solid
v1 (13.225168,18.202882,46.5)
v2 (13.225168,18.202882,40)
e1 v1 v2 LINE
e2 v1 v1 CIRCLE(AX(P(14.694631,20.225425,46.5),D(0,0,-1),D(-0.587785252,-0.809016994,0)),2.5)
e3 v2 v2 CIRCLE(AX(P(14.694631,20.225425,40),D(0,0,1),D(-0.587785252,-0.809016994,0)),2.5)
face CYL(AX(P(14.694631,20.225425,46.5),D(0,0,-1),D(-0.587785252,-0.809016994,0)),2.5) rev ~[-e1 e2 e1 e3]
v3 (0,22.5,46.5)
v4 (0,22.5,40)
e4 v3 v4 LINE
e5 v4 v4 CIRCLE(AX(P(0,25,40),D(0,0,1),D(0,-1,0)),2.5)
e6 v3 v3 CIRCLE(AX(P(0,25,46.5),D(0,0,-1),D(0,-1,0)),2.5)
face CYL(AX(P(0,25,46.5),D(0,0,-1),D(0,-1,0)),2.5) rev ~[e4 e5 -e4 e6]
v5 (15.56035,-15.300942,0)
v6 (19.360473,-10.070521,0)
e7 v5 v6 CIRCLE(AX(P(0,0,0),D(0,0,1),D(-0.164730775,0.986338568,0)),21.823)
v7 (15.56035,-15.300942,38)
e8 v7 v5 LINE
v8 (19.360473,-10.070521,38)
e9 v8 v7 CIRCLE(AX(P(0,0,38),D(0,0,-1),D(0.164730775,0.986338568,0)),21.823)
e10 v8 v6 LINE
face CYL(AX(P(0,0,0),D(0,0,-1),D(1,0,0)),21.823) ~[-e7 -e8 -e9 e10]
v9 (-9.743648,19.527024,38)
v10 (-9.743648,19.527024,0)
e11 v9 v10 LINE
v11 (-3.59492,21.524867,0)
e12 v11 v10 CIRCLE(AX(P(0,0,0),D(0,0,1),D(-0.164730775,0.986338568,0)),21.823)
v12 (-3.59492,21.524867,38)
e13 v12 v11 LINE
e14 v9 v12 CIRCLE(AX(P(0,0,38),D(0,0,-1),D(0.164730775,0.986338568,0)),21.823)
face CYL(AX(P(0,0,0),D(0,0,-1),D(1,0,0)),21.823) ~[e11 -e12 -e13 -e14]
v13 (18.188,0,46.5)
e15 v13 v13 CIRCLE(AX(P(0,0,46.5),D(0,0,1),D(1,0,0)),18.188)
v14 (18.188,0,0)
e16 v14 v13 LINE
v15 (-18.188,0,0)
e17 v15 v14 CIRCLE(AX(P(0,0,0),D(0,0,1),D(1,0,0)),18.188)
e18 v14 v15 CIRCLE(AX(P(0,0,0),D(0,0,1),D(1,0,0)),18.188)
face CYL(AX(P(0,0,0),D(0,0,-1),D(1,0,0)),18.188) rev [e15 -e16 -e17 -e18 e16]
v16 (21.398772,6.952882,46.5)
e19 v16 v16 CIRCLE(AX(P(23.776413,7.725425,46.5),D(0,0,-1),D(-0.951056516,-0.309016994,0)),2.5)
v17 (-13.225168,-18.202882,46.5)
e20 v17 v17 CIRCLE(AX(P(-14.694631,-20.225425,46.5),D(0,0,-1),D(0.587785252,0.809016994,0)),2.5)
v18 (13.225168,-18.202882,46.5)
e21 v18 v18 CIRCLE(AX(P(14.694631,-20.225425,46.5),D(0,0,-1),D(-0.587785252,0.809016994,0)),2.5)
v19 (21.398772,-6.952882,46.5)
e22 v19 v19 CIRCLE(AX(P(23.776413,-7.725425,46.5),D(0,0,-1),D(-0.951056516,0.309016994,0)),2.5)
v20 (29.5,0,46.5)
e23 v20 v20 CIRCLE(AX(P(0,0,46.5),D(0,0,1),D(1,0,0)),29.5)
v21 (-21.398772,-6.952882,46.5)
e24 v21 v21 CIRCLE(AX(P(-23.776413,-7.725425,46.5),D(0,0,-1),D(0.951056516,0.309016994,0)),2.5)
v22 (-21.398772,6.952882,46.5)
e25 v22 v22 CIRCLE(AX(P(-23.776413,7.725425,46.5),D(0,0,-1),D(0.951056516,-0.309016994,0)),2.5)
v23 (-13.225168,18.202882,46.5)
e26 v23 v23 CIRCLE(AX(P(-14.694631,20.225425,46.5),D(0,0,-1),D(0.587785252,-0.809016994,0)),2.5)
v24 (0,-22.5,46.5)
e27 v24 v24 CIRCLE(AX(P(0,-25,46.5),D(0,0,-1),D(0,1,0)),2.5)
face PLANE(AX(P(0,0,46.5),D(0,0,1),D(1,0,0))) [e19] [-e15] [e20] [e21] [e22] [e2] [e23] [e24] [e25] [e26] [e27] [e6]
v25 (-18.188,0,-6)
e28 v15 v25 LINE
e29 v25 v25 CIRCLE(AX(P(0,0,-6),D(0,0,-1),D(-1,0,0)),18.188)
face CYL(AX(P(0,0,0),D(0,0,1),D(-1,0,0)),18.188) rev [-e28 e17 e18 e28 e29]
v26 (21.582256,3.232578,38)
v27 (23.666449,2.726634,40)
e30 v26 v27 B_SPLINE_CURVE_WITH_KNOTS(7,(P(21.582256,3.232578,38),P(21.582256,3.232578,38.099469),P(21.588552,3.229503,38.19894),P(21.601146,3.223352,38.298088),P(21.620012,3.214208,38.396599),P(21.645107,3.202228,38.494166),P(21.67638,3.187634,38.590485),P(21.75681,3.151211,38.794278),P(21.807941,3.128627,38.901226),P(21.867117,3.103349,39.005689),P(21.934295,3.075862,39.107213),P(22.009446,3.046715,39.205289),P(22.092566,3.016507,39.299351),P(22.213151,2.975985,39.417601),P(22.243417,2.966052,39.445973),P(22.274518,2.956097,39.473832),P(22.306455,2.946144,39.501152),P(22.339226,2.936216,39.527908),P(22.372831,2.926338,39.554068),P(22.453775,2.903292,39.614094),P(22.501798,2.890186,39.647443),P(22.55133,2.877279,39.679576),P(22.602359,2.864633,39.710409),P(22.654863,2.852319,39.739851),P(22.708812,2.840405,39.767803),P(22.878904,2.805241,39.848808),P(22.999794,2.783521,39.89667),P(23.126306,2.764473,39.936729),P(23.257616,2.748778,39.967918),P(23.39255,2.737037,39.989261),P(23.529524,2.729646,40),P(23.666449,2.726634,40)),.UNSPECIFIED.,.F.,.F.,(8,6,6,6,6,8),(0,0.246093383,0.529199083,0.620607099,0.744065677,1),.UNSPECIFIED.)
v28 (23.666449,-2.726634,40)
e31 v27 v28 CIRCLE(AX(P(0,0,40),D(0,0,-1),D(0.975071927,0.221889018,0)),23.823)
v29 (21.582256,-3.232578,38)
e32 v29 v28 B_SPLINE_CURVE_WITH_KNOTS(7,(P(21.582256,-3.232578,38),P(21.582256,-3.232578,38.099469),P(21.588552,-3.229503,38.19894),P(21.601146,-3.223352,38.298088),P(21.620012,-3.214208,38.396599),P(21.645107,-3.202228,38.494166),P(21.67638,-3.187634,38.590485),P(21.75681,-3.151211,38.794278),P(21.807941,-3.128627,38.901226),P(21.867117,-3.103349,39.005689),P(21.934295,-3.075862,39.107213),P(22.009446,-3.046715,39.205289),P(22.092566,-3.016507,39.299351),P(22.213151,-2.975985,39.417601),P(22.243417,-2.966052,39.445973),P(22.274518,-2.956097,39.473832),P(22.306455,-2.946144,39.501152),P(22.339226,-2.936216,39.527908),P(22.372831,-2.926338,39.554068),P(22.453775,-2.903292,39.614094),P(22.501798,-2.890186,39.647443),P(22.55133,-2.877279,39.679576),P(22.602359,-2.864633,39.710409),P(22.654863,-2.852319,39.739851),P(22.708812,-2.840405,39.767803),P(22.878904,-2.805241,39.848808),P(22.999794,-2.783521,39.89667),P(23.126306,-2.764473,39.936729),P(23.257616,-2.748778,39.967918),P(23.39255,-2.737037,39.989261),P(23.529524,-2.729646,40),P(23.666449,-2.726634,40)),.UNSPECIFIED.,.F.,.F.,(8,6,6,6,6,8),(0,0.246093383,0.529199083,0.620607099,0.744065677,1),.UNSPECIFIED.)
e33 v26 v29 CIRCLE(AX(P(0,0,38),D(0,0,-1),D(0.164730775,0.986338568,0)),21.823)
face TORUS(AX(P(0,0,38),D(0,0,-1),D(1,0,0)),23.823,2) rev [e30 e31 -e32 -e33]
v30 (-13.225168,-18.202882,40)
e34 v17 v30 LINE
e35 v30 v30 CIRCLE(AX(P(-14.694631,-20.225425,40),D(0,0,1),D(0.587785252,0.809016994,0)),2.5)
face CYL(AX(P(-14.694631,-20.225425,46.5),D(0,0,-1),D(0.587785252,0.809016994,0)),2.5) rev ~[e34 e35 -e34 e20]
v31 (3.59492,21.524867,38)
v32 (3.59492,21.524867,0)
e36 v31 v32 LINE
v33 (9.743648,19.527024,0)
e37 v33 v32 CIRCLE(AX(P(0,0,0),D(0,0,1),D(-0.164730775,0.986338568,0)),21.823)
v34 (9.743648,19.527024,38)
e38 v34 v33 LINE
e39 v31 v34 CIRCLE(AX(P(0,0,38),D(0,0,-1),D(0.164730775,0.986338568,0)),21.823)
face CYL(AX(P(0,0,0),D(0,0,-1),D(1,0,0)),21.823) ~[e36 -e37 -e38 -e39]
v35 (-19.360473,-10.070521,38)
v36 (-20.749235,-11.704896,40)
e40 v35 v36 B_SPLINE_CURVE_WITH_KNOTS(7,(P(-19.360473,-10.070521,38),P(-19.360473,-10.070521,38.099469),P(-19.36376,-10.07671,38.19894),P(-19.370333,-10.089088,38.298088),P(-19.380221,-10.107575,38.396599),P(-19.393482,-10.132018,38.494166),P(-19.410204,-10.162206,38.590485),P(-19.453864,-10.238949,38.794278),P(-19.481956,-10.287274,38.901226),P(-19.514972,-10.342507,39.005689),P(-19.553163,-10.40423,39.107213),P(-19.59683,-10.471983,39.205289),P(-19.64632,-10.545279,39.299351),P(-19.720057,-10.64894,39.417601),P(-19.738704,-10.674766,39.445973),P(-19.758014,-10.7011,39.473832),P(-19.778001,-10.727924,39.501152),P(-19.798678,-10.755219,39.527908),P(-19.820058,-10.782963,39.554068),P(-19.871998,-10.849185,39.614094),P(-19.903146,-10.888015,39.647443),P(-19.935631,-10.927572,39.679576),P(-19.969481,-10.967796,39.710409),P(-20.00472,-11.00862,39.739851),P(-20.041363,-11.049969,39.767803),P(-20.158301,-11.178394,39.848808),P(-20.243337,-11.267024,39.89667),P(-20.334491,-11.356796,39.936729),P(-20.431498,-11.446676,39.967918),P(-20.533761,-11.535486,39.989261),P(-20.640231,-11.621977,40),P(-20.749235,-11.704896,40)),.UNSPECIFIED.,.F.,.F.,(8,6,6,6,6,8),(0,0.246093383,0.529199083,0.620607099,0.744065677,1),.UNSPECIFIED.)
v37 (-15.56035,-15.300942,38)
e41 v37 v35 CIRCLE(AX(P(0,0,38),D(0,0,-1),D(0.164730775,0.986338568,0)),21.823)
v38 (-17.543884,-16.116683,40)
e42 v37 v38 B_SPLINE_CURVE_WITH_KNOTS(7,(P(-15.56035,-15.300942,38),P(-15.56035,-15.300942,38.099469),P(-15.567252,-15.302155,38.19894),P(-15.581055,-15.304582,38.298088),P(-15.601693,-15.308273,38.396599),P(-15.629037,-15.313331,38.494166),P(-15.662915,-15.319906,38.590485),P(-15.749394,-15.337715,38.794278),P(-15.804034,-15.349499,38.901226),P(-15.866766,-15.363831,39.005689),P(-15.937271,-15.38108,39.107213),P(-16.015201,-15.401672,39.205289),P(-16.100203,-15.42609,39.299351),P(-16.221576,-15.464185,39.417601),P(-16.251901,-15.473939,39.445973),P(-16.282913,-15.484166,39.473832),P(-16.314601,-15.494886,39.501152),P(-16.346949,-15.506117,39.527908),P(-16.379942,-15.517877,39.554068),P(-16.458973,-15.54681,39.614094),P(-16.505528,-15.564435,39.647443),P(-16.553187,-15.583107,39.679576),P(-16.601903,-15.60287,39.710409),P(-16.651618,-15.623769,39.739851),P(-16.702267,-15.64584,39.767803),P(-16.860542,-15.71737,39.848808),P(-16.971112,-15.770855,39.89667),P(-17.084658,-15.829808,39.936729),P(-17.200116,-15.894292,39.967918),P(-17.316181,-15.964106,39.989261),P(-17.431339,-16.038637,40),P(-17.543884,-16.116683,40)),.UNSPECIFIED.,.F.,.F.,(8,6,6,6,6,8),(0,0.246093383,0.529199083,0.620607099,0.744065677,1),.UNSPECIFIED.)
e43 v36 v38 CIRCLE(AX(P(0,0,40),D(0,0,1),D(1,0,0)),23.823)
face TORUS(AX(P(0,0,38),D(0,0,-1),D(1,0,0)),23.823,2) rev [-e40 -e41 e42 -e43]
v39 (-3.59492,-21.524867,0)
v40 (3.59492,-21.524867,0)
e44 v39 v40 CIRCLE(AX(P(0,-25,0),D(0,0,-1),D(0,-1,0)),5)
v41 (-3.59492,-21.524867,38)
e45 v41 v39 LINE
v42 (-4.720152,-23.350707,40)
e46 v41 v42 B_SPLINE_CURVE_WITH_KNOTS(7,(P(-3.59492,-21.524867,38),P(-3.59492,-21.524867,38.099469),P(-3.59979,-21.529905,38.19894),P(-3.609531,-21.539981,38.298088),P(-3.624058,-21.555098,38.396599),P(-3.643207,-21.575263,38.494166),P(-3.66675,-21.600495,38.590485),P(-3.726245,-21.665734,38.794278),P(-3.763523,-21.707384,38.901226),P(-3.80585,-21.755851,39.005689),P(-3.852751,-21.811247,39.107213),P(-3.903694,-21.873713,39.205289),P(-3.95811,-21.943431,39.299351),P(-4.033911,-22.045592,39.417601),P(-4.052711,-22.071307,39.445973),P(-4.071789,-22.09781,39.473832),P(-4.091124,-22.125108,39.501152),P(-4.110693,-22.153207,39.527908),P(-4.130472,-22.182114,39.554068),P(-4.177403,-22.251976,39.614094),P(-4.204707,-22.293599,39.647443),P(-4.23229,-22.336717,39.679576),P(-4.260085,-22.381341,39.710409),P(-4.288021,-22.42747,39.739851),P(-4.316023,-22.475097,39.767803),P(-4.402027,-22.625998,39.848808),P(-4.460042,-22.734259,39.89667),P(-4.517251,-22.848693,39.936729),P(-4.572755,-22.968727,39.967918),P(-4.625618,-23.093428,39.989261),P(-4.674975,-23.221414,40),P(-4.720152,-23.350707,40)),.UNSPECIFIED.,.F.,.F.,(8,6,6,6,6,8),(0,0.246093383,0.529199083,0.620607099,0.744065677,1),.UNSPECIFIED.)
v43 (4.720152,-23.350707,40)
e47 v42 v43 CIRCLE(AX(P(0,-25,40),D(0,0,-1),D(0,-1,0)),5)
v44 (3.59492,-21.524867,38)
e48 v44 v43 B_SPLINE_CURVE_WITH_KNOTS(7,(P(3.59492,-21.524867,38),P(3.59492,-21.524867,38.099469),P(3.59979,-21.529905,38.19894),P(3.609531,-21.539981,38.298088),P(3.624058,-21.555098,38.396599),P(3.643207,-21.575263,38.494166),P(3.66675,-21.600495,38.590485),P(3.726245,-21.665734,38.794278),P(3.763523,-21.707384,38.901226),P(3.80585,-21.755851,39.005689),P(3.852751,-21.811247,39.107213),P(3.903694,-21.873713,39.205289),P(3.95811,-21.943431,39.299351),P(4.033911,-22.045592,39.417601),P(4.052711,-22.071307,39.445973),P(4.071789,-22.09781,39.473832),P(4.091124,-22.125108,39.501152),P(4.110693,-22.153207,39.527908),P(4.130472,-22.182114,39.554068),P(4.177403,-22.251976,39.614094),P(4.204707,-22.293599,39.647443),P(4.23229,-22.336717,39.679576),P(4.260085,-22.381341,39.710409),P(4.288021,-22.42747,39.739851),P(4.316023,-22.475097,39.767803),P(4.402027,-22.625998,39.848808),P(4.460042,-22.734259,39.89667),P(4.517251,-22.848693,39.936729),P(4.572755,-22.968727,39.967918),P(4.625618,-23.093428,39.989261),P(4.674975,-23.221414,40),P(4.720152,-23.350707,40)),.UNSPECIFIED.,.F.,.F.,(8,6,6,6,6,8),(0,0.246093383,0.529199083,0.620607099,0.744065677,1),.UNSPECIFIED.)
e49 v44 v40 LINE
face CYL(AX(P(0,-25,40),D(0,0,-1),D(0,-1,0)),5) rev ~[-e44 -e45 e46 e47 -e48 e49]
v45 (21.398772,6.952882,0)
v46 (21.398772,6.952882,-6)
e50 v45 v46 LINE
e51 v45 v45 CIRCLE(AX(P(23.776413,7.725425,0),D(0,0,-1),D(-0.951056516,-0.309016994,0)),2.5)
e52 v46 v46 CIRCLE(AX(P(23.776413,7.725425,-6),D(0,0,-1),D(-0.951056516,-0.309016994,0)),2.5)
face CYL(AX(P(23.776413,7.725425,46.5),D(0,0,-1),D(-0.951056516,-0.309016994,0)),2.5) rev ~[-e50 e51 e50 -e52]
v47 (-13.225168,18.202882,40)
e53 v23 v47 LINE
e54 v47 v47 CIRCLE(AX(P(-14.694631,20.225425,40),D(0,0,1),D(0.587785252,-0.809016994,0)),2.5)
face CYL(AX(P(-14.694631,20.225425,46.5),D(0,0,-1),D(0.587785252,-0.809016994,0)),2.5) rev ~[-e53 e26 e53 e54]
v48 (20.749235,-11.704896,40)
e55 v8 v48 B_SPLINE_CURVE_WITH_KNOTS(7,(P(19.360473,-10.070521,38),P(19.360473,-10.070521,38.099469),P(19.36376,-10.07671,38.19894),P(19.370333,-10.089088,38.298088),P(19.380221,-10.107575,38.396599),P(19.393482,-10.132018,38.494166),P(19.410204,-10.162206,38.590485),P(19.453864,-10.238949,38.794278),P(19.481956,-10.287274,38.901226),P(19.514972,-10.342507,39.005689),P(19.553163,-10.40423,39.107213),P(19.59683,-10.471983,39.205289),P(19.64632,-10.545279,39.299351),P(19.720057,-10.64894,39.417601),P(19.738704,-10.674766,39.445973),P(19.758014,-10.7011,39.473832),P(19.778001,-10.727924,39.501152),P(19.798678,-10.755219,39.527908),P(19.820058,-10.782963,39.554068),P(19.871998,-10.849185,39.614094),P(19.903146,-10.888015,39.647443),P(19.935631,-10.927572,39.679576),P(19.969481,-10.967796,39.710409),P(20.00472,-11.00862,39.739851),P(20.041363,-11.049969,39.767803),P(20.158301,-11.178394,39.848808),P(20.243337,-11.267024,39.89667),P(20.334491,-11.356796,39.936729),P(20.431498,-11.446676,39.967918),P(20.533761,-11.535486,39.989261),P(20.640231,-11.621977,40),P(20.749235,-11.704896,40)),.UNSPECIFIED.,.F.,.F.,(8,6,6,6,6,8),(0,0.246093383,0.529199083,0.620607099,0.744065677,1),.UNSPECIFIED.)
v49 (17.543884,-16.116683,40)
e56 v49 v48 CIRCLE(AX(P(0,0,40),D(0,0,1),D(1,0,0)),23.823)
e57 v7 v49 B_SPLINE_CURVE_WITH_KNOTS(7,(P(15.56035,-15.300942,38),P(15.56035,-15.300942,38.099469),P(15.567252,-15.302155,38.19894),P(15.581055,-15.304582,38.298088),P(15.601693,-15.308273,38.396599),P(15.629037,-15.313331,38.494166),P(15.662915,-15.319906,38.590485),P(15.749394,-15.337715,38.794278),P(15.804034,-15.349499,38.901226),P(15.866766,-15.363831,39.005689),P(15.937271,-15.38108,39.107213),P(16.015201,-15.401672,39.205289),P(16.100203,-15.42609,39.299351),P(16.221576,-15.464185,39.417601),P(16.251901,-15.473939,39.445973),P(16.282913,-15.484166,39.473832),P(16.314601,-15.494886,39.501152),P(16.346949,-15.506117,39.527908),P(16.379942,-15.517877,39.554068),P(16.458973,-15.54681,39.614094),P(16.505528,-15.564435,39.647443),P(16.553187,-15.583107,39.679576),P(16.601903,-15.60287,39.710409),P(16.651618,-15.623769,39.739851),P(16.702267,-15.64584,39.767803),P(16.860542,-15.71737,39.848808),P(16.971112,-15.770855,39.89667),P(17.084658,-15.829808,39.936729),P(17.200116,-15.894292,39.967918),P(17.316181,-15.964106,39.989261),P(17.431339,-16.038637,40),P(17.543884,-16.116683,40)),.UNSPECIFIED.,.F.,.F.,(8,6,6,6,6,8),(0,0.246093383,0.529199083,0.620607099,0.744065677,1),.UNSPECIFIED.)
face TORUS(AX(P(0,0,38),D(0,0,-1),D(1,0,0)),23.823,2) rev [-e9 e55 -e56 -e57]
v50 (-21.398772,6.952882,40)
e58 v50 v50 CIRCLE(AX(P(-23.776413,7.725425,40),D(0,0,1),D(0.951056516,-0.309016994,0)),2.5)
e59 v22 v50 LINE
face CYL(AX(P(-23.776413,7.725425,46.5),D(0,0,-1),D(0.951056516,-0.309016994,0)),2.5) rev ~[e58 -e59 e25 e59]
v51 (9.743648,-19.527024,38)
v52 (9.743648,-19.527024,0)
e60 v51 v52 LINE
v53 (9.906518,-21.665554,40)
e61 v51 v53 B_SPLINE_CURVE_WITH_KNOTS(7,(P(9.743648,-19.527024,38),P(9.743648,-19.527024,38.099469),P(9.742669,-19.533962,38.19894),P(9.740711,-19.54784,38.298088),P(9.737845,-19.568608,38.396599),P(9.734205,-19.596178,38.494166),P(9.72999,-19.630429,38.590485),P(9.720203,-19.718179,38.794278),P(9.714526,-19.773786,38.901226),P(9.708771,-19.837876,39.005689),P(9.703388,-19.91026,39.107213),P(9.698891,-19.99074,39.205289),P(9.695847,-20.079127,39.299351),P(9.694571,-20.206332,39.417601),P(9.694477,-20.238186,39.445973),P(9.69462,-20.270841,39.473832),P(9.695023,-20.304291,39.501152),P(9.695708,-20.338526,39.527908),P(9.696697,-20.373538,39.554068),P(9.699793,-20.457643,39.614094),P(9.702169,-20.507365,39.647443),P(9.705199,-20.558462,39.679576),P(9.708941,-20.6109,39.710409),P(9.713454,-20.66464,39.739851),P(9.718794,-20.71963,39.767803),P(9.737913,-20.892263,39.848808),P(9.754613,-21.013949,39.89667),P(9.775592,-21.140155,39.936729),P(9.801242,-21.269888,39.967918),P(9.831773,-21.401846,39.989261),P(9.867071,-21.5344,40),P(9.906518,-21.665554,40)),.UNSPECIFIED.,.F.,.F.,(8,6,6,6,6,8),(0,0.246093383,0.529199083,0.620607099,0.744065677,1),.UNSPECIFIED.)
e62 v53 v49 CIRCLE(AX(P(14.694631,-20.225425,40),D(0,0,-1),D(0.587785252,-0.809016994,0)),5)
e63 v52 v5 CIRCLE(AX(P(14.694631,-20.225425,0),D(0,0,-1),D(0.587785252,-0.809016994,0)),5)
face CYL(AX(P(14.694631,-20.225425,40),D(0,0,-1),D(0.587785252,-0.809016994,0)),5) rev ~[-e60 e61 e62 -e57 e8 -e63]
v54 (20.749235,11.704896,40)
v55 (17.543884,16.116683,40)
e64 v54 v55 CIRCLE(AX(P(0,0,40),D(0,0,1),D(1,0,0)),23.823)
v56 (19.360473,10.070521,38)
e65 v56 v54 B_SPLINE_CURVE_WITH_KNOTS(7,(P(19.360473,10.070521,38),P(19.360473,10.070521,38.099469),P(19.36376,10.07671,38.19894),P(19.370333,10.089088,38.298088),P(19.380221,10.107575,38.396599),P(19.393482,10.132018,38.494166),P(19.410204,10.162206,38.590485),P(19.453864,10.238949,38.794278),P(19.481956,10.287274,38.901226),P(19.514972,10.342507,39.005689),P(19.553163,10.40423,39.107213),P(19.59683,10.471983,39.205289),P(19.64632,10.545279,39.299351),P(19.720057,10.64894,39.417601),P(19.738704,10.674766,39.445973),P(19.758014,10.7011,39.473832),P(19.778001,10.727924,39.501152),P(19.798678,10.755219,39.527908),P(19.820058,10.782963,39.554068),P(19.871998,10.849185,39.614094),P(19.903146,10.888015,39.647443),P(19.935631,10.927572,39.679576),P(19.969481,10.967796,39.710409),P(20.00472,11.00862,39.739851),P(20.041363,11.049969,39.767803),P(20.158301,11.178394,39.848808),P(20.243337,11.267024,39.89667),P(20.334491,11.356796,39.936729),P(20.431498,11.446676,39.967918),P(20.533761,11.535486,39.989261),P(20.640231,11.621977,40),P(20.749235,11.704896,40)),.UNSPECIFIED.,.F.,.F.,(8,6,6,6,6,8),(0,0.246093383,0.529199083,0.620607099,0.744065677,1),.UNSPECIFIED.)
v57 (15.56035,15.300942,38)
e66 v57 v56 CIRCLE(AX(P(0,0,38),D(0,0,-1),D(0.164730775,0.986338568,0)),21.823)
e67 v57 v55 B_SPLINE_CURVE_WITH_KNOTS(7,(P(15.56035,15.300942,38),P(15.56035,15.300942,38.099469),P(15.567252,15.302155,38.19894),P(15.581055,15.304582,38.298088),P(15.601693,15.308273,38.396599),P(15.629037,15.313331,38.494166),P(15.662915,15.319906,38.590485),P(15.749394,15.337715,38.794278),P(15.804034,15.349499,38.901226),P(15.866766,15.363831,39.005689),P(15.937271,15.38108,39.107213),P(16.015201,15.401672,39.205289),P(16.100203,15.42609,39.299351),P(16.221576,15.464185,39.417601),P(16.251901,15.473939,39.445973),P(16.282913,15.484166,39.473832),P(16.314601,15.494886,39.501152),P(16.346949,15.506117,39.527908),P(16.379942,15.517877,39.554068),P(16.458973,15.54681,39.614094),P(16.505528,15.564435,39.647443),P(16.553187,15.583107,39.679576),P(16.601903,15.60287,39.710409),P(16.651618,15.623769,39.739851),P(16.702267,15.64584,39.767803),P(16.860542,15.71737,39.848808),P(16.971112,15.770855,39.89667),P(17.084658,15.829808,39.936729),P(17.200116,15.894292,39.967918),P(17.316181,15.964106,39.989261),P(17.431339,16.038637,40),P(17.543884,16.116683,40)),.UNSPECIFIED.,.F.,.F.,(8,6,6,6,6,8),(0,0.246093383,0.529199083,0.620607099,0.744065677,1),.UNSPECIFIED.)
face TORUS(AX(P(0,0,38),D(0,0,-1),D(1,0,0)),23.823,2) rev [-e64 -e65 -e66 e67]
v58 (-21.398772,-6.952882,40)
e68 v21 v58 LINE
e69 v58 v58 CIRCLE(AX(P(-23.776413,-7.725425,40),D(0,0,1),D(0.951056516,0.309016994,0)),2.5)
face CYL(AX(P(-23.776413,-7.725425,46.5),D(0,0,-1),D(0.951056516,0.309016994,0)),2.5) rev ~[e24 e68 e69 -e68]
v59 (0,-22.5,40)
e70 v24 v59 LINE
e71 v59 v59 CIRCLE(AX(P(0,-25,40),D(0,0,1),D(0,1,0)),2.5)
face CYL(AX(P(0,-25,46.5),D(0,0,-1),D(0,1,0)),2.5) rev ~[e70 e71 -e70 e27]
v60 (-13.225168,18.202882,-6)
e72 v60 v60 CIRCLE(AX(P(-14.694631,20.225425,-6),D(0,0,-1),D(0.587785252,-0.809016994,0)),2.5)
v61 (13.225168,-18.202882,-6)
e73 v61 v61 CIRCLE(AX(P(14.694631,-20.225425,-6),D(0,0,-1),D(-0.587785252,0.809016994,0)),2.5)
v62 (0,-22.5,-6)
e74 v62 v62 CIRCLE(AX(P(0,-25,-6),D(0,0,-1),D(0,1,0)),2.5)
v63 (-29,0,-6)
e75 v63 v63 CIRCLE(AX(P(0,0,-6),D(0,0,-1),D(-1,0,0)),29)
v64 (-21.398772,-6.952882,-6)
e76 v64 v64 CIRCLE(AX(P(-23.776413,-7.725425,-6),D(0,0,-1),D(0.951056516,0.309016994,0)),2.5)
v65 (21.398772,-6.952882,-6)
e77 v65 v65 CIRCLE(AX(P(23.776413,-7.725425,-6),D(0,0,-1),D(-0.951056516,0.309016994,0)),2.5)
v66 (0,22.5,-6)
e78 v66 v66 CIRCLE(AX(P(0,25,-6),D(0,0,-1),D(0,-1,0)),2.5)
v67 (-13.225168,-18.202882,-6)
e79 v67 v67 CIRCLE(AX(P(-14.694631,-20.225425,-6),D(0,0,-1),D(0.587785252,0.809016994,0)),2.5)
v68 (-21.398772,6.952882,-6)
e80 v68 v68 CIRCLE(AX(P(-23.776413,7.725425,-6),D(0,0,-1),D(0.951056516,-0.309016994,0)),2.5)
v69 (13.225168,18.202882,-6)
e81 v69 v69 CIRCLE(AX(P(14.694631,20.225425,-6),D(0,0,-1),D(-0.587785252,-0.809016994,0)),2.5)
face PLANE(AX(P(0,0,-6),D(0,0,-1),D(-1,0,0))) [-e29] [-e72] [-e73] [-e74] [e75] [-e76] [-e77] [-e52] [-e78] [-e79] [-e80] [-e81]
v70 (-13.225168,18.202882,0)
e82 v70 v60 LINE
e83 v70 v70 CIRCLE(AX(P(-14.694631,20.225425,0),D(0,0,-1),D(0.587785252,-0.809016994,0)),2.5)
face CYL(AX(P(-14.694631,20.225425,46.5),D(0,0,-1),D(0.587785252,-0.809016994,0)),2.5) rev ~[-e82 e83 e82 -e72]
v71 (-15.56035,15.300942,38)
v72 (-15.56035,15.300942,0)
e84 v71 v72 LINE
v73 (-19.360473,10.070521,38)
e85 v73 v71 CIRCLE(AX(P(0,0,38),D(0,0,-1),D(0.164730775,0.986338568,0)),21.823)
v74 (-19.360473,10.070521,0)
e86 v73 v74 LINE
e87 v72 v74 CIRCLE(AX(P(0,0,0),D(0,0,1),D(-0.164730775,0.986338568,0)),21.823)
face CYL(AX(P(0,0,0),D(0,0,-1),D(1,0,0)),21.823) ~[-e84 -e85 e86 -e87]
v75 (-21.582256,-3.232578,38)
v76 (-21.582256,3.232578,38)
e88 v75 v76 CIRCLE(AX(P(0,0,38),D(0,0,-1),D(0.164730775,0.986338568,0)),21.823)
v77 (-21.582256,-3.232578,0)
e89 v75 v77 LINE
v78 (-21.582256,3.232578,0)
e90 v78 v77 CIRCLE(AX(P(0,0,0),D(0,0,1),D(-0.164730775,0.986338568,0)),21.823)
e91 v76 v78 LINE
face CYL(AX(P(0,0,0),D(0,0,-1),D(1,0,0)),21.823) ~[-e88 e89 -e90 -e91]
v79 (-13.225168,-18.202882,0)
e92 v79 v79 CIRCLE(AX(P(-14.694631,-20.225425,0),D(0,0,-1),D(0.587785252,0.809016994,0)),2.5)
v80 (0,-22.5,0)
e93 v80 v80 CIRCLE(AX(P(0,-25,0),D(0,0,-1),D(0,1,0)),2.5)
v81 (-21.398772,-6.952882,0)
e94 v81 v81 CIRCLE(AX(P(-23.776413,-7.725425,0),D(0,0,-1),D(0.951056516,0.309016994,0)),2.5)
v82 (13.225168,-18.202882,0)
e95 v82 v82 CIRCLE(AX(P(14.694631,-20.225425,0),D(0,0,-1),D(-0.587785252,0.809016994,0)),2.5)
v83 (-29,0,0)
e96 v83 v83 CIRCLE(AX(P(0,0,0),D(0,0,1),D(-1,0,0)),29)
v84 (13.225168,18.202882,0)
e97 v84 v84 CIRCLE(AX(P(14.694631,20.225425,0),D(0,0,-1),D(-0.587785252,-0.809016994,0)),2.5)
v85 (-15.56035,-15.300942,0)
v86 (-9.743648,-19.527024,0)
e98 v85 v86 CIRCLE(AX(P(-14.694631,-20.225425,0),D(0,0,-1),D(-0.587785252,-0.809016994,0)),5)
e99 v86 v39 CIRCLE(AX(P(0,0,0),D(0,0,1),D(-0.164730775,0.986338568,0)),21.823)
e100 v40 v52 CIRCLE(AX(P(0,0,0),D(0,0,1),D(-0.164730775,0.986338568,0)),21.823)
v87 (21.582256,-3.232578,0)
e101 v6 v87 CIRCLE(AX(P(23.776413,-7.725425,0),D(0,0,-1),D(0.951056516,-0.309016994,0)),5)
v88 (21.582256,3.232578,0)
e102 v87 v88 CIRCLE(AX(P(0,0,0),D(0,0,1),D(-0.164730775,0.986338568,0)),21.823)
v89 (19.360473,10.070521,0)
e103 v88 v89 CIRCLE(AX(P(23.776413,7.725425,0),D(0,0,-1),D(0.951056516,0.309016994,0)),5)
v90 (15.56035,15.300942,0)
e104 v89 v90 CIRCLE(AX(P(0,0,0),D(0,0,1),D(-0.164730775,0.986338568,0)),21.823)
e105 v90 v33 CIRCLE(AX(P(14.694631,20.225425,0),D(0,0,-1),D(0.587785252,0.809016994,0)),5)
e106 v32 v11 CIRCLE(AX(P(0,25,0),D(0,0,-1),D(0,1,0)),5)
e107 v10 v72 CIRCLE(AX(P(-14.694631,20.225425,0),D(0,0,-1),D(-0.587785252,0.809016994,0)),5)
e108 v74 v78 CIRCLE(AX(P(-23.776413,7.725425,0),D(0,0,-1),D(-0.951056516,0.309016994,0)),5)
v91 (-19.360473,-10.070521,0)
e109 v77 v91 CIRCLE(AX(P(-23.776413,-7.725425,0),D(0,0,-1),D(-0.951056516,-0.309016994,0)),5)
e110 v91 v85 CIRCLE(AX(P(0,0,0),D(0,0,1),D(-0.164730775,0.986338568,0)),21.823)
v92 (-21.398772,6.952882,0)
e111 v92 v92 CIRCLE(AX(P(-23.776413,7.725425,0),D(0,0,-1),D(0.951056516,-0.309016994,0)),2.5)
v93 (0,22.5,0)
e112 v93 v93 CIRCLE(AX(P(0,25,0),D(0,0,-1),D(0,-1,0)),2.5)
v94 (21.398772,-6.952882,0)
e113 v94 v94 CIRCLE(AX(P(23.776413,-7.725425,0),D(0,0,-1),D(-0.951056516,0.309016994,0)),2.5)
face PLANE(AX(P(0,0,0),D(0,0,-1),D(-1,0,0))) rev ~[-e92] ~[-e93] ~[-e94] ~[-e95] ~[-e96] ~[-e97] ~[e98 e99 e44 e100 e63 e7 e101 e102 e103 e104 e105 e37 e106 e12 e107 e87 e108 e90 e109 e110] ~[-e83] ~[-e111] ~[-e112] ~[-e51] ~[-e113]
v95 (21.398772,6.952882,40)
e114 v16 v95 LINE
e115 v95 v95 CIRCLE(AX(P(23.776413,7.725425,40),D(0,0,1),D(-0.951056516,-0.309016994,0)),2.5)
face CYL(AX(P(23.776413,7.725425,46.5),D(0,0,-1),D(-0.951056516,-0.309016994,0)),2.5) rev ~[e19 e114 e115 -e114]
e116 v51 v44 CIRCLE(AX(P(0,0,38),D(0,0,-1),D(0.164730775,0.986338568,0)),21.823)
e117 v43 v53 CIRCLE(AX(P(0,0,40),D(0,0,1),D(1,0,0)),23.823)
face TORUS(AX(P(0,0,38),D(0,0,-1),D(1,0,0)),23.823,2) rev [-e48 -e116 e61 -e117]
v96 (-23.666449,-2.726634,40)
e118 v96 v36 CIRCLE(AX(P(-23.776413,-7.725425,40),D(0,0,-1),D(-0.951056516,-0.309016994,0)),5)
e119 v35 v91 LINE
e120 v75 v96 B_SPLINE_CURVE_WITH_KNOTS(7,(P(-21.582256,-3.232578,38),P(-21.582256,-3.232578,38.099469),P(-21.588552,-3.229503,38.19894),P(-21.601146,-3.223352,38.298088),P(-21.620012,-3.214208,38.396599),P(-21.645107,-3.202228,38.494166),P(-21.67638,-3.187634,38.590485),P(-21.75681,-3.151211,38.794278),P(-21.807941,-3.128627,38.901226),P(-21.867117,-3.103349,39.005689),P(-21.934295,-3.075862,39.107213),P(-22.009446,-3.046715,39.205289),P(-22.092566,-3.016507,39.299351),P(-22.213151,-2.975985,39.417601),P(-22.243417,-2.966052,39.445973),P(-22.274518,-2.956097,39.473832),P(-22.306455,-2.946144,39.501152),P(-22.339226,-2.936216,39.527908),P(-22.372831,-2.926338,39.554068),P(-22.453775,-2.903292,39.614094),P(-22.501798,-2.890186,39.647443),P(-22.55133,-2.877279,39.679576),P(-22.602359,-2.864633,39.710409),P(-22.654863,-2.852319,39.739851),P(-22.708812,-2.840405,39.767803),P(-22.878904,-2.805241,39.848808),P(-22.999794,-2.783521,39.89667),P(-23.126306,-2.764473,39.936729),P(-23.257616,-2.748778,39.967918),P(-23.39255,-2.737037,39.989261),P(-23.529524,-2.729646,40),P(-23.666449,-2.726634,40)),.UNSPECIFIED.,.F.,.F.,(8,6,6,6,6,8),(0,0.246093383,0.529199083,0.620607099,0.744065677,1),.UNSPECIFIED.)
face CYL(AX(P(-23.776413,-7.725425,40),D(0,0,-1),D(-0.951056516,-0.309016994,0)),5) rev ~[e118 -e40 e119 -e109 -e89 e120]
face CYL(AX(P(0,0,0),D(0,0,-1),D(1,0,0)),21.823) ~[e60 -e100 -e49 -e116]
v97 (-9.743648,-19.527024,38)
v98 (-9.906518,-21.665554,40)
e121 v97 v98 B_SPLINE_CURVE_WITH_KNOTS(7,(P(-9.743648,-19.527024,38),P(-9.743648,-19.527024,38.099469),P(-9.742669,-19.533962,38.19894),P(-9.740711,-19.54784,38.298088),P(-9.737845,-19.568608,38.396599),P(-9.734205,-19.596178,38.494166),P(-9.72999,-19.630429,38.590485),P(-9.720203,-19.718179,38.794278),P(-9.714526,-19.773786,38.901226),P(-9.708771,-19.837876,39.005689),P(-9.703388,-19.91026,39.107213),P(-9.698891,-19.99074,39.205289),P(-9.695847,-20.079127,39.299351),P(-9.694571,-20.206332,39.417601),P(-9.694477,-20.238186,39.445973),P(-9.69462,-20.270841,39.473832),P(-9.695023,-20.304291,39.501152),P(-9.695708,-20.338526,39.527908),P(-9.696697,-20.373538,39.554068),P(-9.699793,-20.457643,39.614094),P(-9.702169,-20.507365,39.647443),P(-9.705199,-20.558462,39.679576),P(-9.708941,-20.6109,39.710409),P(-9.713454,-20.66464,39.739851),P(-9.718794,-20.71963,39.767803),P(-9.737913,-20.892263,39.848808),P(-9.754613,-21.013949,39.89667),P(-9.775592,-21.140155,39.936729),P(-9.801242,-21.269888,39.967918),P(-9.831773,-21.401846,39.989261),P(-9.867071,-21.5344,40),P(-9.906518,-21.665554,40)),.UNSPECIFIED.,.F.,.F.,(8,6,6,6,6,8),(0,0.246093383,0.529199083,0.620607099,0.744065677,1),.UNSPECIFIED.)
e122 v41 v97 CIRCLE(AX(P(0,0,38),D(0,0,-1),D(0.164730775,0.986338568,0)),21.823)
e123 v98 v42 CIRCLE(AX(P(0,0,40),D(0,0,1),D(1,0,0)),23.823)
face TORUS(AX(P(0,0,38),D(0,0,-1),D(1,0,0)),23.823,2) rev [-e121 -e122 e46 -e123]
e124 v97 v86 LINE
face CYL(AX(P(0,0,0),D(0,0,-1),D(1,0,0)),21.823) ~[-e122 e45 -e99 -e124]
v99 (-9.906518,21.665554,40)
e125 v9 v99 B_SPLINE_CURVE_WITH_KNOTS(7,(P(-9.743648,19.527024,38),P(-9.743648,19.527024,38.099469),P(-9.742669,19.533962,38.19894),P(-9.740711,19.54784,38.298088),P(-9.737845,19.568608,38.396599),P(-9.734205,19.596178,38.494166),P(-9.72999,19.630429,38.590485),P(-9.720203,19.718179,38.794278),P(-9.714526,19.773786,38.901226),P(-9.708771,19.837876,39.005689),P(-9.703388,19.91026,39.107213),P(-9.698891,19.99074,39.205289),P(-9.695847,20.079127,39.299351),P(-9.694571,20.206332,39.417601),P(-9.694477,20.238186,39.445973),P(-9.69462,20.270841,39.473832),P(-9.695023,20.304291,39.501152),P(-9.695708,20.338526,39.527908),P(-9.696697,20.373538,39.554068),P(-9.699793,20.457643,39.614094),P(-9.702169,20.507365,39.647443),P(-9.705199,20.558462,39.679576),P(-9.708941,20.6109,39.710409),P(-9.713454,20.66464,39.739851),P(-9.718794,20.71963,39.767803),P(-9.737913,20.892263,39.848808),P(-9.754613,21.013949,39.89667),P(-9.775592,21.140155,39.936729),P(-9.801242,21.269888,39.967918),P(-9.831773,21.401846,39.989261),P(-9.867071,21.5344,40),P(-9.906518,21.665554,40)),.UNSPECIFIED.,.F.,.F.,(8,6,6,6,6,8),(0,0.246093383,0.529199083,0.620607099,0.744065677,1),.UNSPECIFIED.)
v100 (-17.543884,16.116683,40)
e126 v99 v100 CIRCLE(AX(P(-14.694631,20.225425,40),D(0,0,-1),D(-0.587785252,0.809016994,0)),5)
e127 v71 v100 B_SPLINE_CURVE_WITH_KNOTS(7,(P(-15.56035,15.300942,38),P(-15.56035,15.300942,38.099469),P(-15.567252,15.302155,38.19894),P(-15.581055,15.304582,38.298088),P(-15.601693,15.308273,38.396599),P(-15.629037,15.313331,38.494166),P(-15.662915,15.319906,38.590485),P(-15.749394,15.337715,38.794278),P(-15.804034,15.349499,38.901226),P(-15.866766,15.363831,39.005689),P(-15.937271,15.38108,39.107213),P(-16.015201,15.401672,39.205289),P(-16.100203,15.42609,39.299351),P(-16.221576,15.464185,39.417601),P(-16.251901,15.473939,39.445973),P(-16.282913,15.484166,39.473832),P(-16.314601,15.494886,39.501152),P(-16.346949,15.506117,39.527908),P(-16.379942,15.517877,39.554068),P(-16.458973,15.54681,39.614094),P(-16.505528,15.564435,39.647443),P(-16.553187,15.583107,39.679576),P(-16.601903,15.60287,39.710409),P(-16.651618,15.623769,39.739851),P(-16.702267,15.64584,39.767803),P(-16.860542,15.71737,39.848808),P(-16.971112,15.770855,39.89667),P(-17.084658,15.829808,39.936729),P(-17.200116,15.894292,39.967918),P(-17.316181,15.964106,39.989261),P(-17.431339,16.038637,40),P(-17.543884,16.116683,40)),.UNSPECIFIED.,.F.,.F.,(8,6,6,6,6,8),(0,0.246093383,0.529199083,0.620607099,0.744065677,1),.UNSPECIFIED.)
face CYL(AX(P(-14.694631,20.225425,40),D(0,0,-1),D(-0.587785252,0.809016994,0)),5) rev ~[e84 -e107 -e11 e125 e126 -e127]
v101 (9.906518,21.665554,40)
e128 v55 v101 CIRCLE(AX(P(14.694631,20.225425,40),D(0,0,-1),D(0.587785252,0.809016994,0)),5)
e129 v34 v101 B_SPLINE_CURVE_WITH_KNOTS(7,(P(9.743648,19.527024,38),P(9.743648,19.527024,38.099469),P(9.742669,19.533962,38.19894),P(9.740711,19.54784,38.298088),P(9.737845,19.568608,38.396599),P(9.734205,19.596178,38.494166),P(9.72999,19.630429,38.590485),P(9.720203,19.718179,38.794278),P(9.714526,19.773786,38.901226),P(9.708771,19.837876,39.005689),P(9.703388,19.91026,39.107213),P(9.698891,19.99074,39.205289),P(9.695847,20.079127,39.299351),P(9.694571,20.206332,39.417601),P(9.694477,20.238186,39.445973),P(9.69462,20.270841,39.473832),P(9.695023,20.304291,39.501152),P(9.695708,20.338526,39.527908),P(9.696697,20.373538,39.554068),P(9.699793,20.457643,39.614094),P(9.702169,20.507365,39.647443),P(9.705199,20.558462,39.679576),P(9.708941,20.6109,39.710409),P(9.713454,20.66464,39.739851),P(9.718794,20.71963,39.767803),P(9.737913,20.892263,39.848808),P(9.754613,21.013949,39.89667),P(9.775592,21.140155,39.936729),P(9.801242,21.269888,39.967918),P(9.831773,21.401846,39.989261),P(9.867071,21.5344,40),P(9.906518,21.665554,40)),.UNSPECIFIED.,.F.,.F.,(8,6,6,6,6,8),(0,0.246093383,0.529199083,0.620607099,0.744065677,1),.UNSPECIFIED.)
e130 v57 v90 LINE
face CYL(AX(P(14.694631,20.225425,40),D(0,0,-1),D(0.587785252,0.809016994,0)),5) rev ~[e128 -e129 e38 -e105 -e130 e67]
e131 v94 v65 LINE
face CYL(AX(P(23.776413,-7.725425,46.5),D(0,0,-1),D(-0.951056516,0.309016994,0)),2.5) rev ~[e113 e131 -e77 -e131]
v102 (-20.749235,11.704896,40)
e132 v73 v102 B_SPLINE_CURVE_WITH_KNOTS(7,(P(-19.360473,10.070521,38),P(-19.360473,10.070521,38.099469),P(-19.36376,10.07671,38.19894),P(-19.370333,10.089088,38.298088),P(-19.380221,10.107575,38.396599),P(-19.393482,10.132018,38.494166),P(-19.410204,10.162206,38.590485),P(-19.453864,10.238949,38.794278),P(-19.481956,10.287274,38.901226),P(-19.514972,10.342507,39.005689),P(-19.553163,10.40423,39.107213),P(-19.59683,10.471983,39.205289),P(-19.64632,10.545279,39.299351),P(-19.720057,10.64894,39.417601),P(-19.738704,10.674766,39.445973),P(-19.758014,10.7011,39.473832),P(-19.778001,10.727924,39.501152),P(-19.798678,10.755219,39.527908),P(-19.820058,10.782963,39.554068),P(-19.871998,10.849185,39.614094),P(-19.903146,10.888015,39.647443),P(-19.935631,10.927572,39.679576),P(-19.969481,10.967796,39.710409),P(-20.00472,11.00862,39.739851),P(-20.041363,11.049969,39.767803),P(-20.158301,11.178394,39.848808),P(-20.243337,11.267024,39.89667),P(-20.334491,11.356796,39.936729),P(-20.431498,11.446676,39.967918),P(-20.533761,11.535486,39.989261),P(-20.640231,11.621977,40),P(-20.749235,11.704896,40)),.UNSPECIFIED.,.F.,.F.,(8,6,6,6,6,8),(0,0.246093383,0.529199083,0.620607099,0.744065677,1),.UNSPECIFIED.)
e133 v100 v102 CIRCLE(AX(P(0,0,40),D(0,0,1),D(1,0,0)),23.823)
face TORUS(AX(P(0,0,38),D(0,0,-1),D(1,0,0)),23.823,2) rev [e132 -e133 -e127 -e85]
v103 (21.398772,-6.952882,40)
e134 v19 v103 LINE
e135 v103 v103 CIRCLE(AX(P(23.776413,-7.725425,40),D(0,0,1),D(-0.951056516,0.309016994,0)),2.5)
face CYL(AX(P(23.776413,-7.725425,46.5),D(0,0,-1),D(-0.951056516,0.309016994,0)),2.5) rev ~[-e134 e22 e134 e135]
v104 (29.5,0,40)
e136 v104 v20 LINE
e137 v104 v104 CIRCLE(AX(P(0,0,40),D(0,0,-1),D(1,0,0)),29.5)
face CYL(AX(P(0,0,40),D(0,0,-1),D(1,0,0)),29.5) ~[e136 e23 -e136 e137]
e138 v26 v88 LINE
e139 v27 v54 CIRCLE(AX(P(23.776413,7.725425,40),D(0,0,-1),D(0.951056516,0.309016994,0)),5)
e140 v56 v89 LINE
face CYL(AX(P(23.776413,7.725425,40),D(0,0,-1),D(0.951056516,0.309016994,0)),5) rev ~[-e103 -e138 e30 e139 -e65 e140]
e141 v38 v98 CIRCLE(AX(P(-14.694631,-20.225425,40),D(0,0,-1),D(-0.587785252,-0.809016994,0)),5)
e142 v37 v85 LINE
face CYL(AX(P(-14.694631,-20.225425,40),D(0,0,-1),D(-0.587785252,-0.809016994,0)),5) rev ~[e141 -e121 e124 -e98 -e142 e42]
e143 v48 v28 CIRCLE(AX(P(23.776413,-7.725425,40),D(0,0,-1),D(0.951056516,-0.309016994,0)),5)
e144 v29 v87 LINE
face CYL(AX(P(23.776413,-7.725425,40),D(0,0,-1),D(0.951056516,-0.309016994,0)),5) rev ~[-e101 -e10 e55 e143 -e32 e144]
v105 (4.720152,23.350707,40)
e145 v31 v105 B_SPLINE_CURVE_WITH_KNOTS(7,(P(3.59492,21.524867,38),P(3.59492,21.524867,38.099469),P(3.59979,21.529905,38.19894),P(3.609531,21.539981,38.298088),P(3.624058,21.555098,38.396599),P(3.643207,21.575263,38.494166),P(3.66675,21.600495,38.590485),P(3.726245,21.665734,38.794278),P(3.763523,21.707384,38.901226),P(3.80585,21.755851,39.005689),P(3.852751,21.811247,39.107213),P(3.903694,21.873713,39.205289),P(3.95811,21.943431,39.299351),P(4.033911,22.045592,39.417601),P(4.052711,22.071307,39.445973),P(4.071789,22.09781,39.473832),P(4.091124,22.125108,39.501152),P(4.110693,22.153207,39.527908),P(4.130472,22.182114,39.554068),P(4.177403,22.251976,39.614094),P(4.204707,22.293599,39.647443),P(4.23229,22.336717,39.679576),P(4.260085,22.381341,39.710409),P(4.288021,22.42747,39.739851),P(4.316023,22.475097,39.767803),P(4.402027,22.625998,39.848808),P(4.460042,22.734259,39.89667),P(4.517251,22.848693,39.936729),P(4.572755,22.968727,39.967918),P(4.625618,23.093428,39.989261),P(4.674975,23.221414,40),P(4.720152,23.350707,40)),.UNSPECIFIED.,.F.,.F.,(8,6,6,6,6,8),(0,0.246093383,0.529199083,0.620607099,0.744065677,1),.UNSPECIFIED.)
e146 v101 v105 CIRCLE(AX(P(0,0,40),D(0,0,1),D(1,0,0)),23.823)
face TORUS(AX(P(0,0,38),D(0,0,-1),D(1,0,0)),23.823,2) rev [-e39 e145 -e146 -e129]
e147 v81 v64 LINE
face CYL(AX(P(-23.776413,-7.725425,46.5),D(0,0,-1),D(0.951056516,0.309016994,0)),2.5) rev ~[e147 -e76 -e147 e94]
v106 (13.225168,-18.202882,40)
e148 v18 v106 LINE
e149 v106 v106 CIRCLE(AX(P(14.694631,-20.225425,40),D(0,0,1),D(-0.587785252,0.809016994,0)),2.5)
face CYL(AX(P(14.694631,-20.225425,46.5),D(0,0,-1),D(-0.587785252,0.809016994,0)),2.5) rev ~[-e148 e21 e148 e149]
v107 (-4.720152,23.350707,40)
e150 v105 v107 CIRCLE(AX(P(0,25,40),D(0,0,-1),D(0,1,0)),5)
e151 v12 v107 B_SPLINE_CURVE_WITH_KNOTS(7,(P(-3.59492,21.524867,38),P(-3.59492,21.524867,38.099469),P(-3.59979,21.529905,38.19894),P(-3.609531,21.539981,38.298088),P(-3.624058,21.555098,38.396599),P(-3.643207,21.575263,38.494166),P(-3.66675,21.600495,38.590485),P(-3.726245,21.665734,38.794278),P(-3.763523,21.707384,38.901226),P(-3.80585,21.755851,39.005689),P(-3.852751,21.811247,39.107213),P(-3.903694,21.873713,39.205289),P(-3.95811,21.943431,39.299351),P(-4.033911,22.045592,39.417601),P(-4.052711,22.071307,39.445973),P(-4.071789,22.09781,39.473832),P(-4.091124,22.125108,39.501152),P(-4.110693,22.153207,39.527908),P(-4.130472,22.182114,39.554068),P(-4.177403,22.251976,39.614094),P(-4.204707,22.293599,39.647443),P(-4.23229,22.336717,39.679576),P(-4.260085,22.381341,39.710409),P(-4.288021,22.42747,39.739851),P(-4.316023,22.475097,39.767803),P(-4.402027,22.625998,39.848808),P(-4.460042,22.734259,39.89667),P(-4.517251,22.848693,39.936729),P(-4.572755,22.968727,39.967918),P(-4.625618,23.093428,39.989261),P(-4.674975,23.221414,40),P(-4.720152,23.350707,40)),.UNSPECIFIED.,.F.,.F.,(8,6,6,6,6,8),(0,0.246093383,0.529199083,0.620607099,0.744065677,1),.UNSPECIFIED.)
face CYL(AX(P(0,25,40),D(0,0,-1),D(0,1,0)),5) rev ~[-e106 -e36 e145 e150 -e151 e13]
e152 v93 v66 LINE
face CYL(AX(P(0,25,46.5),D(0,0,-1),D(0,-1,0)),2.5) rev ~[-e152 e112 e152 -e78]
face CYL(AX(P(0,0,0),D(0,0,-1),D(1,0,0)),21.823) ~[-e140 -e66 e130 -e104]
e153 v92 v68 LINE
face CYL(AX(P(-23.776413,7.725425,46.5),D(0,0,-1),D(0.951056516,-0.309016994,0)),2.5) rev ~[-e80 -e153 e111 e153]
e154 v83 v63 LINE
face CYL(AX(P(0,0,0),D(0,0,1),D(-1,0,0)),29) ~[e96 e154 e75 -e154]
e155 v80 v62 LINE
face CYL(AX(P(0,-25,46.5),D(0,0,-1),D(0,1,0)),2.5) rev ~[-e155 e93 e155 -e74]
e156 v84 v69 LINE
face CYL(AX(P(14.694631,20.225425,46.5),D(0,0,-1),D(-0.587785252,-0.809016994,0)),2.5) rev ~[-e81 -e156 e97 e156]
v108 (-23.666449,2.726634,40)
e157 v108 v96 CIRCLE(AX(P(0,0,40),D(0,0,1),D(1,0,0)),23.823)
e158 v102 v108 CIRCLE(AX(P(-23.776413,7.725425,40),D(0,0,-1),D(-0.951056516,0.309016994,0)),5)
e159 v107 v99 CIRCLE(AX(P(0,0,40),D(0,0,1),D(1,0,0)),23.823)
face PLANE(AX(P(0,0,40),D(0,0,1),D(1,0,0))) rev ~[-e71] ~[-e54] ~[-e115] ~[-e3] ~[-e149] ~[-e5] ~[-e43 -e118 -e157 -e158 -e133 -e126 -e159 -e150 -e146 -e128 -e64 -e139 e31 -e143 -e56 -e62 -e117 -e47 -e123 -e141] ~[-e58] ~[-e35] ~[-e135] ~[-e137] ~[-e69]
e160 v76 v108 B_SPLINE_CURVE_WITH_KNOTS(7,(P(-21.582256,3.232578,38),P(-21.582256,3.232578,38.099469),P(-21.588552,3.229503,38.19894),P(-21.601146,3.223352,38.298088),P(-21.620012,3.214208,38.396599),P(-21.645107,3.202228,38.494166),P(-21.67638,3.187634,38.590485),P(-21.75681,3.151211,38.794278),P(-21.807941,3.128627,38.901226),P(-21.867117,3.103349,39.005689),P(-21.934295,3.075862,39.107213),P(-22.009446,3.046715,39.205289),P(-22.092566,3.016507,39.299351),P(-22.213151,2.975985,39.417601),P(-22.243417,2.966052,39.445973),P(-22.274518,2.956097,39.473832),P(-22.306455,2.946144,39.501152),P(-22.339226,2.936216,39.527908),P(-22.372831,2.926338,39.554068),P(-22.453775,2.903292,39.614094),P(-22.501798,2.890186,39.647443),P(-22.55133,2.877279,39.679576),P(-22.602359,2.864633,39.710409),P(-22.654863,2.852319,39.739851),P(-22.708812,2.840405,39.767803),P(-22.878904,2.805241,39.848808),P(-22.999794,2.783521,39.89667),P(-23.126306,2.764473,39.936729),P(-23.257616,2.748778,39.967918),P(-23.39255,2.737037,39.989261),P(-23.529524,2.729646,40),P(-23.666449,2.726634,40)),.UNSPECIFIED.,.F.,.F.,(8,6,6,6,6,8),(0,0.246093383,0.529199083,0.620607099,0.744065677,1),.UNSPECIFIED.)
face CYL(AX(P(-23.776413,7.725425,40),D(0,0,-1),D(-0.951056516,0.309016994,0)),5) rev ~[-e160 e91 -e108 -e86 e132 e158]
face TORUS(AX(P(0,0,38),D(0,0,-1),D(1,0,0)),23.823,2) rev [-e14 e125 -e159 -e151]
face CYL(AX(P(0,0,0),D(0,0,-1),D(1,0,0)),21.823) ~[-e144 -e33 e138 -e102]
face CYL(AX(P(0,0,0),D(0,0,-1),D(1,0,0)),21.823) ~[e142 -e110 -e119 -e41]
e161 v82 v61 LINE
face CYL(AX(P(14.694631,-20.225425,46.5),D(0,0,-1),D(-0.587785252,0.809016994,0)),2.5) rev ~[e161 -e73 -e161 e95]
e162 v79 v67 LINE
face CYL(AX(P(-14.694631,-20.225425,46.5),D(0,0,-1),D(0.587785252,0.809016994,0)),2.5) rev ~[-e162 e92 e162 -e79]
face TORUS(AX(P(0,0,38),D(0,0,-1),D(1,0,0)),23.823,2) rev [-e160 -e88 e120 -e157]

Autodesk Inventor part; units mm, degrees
ref_plane "YZ Plane" through (0, 0, 0) normal (1, 0, 0) x (0, 1, 0)
ref_plane "XZ Plane" through (0, 0, 0) normal (0, 1, 0) x (-1, 0, 0)
ref_plane "XY Plane" through (0, 0, 0) normal (0, 0, 1) x (1, 0, 0)
sketch "Sketch1" plane through (0, 0, 0) normal (0, 0, 1) x (1, 0, 0)
  circle A0 centre (0, 0) radius 21.823
  circle A1 centre (0, 0) radius 18.188
  dimension "d1" = 43.646
  dimension "d2" = 36.376
extrude "Extrusion1" add sketch "Sketch1" along normal blind 40
sketch "Sketch2" plane through (0, 0, 40) normal (0, 0, 1) x (1, 0, 0)
  circle A0 centre (0, 0) radius 18.188 projected
  circle A1 centre (0, 0) radius 21.823 projected
  circle A2 centre (0, 0) radius 29.5
  dimension "d5" = 59
extrude "Extrusion2" add sketch "Sketch2" along normal blind 6.5 contours A1 | A2
sketch "Sketch3" plane through (0, 0, 0) normal (0, 0, -1) x (-1, 0, 0)
  circle A0 centre (0, 0) radius 18.188 projected
  circle A1 centre (0, 0) radius 21.823 projected
  circle A2 centre (0, 0) radius 29
  dimension "d8" = 58
extrude "Extrusion3" add sketch "Sketch3" along normal blind 6 contours A1 | A2
fillet "Fillet1" radius 2 1 edges at (-21.823, 0, 40)
sketch "Sketch4" plane through (0, 0, 46.5) normal (0, 0, 1) x (1, 0, 0)
  circle A0 centre (0, 0) radius 18.188 projected
  point P0 (0, 25)
  dimension "d12" = 25
hole "Hole1" at (0, 25, 46.5) direction (0, 0, -1) diameter 5 end through all
pattern_circular "Circular Pattern1" count 10 over 360 about axis through (0, 0, -10) along (0, 0, 1) of "Hole1"
sketch "Sketch6" plane through (0, 0, 0) normal (1, 0, 0) x (0, 1, 0)
  line L0 (-27.5, 0) -> (-27.5, -6) projected
  line L1 (-27.5, -6) -> (-29, -6) projected
  line L2 (-29, -6) -> (-29, 0) projected
  line L3 (-29, 0) -> (-27.5, 0) projected
  line L4 (-27.5, 46.5) -> (-27.5, 40) projected
  line L5 (-27.5, 40) -> (-29.5, 40) projected
  line L6 (-29.5, 40) -> (-29.5, 46.5) projected
  line L7 (-29.5, 46.5) -> (-27.5, 46.5) projected
  line L8 (-22.5, 39.4999) -> (-22.5, 46.5) projected
  line L9 (-22.5, 46.5) -> (-18.188, 46.5) projected
  line L10 (-18.188, 46.5) -> (-18.188, -6) projected
  line L11 (-18.188, -6) -> (-22.5, -6) projected
  line L12 (-22.5, -6) -> (-22.5, 0) projected
  line L13 (-22.5, 0) -> (-21.823, 0) projected
  line L14 (-21.823, 0) -> (-21.823, 38) projected
  arc A0 (-21.823, 38) -> (-22.5, 39.4999) centre (-23.823, 38) ccw projected
  line L15 (29.5, 40) -> (27.5, 40) projected
  line L16 (27.5, 40) -> (27.5, 46.5) projected
  line L17 (27.5, 46.5) -> (29.5, 46.5) projected
  line L18 (29.5, 46.5) -> (29.5, 40) projected
  line L19 (27.5, -6) -> (27.5, 0) projected
  line L20 (27.5, 0) -> (29, 0) projected
  line L21 (29, 0) -> (29, -6) projected
  line L22 (29, -6) -> (27.5, -6) projected
  line L23 (22.5, 0) -> (22.5, -6) projected
  line L24 (22.5, -6) -> (18.188, -6) projected
  line L25 (18.188, -6) -> (18.188, 46.5) projected
  line L26 (18.188, 46.5) -> (22.5, 46.5) projected
  line L27 (22.5, 46.5) -> (22.5, 39.4999) projected
  arc A1 (22.5, 39.4999) -> (21.823, 38) centre (23.823, 38) ccw projected
  line L28 (21.823, 38) -> (21.823, 0) projected
  line L29 (21.823, 0) -> (22.5, 0) projected
  line L30 (25, 50.0408) -> (25, 14.0818)
  line L31 (25, 40) -> (30, 40)
  line L32 (30, 40) -> (30, 0)
  line L33 (30, 0) -> (25, 0)
  line L34 (25, 40) -> (25, 0)
  point P0 (29, 0)
  dimension "d27" = 5
  dimension "d28" = 5
  dimension "d29" = 40
revolve "Revolution1" cut sketch "Sketch6" angle 360 about axis through (0, 25, 50.0408) along (0, 0, -1) contours L31 L32 L33 L20 L34 L30 L15
pattern_circular "Circular Pattern2" count 10 over 360 about axis through (0, 0, -10) along (0, 0, 1) of "Revolution1"
properties part number "212-01" material "Titanium"
